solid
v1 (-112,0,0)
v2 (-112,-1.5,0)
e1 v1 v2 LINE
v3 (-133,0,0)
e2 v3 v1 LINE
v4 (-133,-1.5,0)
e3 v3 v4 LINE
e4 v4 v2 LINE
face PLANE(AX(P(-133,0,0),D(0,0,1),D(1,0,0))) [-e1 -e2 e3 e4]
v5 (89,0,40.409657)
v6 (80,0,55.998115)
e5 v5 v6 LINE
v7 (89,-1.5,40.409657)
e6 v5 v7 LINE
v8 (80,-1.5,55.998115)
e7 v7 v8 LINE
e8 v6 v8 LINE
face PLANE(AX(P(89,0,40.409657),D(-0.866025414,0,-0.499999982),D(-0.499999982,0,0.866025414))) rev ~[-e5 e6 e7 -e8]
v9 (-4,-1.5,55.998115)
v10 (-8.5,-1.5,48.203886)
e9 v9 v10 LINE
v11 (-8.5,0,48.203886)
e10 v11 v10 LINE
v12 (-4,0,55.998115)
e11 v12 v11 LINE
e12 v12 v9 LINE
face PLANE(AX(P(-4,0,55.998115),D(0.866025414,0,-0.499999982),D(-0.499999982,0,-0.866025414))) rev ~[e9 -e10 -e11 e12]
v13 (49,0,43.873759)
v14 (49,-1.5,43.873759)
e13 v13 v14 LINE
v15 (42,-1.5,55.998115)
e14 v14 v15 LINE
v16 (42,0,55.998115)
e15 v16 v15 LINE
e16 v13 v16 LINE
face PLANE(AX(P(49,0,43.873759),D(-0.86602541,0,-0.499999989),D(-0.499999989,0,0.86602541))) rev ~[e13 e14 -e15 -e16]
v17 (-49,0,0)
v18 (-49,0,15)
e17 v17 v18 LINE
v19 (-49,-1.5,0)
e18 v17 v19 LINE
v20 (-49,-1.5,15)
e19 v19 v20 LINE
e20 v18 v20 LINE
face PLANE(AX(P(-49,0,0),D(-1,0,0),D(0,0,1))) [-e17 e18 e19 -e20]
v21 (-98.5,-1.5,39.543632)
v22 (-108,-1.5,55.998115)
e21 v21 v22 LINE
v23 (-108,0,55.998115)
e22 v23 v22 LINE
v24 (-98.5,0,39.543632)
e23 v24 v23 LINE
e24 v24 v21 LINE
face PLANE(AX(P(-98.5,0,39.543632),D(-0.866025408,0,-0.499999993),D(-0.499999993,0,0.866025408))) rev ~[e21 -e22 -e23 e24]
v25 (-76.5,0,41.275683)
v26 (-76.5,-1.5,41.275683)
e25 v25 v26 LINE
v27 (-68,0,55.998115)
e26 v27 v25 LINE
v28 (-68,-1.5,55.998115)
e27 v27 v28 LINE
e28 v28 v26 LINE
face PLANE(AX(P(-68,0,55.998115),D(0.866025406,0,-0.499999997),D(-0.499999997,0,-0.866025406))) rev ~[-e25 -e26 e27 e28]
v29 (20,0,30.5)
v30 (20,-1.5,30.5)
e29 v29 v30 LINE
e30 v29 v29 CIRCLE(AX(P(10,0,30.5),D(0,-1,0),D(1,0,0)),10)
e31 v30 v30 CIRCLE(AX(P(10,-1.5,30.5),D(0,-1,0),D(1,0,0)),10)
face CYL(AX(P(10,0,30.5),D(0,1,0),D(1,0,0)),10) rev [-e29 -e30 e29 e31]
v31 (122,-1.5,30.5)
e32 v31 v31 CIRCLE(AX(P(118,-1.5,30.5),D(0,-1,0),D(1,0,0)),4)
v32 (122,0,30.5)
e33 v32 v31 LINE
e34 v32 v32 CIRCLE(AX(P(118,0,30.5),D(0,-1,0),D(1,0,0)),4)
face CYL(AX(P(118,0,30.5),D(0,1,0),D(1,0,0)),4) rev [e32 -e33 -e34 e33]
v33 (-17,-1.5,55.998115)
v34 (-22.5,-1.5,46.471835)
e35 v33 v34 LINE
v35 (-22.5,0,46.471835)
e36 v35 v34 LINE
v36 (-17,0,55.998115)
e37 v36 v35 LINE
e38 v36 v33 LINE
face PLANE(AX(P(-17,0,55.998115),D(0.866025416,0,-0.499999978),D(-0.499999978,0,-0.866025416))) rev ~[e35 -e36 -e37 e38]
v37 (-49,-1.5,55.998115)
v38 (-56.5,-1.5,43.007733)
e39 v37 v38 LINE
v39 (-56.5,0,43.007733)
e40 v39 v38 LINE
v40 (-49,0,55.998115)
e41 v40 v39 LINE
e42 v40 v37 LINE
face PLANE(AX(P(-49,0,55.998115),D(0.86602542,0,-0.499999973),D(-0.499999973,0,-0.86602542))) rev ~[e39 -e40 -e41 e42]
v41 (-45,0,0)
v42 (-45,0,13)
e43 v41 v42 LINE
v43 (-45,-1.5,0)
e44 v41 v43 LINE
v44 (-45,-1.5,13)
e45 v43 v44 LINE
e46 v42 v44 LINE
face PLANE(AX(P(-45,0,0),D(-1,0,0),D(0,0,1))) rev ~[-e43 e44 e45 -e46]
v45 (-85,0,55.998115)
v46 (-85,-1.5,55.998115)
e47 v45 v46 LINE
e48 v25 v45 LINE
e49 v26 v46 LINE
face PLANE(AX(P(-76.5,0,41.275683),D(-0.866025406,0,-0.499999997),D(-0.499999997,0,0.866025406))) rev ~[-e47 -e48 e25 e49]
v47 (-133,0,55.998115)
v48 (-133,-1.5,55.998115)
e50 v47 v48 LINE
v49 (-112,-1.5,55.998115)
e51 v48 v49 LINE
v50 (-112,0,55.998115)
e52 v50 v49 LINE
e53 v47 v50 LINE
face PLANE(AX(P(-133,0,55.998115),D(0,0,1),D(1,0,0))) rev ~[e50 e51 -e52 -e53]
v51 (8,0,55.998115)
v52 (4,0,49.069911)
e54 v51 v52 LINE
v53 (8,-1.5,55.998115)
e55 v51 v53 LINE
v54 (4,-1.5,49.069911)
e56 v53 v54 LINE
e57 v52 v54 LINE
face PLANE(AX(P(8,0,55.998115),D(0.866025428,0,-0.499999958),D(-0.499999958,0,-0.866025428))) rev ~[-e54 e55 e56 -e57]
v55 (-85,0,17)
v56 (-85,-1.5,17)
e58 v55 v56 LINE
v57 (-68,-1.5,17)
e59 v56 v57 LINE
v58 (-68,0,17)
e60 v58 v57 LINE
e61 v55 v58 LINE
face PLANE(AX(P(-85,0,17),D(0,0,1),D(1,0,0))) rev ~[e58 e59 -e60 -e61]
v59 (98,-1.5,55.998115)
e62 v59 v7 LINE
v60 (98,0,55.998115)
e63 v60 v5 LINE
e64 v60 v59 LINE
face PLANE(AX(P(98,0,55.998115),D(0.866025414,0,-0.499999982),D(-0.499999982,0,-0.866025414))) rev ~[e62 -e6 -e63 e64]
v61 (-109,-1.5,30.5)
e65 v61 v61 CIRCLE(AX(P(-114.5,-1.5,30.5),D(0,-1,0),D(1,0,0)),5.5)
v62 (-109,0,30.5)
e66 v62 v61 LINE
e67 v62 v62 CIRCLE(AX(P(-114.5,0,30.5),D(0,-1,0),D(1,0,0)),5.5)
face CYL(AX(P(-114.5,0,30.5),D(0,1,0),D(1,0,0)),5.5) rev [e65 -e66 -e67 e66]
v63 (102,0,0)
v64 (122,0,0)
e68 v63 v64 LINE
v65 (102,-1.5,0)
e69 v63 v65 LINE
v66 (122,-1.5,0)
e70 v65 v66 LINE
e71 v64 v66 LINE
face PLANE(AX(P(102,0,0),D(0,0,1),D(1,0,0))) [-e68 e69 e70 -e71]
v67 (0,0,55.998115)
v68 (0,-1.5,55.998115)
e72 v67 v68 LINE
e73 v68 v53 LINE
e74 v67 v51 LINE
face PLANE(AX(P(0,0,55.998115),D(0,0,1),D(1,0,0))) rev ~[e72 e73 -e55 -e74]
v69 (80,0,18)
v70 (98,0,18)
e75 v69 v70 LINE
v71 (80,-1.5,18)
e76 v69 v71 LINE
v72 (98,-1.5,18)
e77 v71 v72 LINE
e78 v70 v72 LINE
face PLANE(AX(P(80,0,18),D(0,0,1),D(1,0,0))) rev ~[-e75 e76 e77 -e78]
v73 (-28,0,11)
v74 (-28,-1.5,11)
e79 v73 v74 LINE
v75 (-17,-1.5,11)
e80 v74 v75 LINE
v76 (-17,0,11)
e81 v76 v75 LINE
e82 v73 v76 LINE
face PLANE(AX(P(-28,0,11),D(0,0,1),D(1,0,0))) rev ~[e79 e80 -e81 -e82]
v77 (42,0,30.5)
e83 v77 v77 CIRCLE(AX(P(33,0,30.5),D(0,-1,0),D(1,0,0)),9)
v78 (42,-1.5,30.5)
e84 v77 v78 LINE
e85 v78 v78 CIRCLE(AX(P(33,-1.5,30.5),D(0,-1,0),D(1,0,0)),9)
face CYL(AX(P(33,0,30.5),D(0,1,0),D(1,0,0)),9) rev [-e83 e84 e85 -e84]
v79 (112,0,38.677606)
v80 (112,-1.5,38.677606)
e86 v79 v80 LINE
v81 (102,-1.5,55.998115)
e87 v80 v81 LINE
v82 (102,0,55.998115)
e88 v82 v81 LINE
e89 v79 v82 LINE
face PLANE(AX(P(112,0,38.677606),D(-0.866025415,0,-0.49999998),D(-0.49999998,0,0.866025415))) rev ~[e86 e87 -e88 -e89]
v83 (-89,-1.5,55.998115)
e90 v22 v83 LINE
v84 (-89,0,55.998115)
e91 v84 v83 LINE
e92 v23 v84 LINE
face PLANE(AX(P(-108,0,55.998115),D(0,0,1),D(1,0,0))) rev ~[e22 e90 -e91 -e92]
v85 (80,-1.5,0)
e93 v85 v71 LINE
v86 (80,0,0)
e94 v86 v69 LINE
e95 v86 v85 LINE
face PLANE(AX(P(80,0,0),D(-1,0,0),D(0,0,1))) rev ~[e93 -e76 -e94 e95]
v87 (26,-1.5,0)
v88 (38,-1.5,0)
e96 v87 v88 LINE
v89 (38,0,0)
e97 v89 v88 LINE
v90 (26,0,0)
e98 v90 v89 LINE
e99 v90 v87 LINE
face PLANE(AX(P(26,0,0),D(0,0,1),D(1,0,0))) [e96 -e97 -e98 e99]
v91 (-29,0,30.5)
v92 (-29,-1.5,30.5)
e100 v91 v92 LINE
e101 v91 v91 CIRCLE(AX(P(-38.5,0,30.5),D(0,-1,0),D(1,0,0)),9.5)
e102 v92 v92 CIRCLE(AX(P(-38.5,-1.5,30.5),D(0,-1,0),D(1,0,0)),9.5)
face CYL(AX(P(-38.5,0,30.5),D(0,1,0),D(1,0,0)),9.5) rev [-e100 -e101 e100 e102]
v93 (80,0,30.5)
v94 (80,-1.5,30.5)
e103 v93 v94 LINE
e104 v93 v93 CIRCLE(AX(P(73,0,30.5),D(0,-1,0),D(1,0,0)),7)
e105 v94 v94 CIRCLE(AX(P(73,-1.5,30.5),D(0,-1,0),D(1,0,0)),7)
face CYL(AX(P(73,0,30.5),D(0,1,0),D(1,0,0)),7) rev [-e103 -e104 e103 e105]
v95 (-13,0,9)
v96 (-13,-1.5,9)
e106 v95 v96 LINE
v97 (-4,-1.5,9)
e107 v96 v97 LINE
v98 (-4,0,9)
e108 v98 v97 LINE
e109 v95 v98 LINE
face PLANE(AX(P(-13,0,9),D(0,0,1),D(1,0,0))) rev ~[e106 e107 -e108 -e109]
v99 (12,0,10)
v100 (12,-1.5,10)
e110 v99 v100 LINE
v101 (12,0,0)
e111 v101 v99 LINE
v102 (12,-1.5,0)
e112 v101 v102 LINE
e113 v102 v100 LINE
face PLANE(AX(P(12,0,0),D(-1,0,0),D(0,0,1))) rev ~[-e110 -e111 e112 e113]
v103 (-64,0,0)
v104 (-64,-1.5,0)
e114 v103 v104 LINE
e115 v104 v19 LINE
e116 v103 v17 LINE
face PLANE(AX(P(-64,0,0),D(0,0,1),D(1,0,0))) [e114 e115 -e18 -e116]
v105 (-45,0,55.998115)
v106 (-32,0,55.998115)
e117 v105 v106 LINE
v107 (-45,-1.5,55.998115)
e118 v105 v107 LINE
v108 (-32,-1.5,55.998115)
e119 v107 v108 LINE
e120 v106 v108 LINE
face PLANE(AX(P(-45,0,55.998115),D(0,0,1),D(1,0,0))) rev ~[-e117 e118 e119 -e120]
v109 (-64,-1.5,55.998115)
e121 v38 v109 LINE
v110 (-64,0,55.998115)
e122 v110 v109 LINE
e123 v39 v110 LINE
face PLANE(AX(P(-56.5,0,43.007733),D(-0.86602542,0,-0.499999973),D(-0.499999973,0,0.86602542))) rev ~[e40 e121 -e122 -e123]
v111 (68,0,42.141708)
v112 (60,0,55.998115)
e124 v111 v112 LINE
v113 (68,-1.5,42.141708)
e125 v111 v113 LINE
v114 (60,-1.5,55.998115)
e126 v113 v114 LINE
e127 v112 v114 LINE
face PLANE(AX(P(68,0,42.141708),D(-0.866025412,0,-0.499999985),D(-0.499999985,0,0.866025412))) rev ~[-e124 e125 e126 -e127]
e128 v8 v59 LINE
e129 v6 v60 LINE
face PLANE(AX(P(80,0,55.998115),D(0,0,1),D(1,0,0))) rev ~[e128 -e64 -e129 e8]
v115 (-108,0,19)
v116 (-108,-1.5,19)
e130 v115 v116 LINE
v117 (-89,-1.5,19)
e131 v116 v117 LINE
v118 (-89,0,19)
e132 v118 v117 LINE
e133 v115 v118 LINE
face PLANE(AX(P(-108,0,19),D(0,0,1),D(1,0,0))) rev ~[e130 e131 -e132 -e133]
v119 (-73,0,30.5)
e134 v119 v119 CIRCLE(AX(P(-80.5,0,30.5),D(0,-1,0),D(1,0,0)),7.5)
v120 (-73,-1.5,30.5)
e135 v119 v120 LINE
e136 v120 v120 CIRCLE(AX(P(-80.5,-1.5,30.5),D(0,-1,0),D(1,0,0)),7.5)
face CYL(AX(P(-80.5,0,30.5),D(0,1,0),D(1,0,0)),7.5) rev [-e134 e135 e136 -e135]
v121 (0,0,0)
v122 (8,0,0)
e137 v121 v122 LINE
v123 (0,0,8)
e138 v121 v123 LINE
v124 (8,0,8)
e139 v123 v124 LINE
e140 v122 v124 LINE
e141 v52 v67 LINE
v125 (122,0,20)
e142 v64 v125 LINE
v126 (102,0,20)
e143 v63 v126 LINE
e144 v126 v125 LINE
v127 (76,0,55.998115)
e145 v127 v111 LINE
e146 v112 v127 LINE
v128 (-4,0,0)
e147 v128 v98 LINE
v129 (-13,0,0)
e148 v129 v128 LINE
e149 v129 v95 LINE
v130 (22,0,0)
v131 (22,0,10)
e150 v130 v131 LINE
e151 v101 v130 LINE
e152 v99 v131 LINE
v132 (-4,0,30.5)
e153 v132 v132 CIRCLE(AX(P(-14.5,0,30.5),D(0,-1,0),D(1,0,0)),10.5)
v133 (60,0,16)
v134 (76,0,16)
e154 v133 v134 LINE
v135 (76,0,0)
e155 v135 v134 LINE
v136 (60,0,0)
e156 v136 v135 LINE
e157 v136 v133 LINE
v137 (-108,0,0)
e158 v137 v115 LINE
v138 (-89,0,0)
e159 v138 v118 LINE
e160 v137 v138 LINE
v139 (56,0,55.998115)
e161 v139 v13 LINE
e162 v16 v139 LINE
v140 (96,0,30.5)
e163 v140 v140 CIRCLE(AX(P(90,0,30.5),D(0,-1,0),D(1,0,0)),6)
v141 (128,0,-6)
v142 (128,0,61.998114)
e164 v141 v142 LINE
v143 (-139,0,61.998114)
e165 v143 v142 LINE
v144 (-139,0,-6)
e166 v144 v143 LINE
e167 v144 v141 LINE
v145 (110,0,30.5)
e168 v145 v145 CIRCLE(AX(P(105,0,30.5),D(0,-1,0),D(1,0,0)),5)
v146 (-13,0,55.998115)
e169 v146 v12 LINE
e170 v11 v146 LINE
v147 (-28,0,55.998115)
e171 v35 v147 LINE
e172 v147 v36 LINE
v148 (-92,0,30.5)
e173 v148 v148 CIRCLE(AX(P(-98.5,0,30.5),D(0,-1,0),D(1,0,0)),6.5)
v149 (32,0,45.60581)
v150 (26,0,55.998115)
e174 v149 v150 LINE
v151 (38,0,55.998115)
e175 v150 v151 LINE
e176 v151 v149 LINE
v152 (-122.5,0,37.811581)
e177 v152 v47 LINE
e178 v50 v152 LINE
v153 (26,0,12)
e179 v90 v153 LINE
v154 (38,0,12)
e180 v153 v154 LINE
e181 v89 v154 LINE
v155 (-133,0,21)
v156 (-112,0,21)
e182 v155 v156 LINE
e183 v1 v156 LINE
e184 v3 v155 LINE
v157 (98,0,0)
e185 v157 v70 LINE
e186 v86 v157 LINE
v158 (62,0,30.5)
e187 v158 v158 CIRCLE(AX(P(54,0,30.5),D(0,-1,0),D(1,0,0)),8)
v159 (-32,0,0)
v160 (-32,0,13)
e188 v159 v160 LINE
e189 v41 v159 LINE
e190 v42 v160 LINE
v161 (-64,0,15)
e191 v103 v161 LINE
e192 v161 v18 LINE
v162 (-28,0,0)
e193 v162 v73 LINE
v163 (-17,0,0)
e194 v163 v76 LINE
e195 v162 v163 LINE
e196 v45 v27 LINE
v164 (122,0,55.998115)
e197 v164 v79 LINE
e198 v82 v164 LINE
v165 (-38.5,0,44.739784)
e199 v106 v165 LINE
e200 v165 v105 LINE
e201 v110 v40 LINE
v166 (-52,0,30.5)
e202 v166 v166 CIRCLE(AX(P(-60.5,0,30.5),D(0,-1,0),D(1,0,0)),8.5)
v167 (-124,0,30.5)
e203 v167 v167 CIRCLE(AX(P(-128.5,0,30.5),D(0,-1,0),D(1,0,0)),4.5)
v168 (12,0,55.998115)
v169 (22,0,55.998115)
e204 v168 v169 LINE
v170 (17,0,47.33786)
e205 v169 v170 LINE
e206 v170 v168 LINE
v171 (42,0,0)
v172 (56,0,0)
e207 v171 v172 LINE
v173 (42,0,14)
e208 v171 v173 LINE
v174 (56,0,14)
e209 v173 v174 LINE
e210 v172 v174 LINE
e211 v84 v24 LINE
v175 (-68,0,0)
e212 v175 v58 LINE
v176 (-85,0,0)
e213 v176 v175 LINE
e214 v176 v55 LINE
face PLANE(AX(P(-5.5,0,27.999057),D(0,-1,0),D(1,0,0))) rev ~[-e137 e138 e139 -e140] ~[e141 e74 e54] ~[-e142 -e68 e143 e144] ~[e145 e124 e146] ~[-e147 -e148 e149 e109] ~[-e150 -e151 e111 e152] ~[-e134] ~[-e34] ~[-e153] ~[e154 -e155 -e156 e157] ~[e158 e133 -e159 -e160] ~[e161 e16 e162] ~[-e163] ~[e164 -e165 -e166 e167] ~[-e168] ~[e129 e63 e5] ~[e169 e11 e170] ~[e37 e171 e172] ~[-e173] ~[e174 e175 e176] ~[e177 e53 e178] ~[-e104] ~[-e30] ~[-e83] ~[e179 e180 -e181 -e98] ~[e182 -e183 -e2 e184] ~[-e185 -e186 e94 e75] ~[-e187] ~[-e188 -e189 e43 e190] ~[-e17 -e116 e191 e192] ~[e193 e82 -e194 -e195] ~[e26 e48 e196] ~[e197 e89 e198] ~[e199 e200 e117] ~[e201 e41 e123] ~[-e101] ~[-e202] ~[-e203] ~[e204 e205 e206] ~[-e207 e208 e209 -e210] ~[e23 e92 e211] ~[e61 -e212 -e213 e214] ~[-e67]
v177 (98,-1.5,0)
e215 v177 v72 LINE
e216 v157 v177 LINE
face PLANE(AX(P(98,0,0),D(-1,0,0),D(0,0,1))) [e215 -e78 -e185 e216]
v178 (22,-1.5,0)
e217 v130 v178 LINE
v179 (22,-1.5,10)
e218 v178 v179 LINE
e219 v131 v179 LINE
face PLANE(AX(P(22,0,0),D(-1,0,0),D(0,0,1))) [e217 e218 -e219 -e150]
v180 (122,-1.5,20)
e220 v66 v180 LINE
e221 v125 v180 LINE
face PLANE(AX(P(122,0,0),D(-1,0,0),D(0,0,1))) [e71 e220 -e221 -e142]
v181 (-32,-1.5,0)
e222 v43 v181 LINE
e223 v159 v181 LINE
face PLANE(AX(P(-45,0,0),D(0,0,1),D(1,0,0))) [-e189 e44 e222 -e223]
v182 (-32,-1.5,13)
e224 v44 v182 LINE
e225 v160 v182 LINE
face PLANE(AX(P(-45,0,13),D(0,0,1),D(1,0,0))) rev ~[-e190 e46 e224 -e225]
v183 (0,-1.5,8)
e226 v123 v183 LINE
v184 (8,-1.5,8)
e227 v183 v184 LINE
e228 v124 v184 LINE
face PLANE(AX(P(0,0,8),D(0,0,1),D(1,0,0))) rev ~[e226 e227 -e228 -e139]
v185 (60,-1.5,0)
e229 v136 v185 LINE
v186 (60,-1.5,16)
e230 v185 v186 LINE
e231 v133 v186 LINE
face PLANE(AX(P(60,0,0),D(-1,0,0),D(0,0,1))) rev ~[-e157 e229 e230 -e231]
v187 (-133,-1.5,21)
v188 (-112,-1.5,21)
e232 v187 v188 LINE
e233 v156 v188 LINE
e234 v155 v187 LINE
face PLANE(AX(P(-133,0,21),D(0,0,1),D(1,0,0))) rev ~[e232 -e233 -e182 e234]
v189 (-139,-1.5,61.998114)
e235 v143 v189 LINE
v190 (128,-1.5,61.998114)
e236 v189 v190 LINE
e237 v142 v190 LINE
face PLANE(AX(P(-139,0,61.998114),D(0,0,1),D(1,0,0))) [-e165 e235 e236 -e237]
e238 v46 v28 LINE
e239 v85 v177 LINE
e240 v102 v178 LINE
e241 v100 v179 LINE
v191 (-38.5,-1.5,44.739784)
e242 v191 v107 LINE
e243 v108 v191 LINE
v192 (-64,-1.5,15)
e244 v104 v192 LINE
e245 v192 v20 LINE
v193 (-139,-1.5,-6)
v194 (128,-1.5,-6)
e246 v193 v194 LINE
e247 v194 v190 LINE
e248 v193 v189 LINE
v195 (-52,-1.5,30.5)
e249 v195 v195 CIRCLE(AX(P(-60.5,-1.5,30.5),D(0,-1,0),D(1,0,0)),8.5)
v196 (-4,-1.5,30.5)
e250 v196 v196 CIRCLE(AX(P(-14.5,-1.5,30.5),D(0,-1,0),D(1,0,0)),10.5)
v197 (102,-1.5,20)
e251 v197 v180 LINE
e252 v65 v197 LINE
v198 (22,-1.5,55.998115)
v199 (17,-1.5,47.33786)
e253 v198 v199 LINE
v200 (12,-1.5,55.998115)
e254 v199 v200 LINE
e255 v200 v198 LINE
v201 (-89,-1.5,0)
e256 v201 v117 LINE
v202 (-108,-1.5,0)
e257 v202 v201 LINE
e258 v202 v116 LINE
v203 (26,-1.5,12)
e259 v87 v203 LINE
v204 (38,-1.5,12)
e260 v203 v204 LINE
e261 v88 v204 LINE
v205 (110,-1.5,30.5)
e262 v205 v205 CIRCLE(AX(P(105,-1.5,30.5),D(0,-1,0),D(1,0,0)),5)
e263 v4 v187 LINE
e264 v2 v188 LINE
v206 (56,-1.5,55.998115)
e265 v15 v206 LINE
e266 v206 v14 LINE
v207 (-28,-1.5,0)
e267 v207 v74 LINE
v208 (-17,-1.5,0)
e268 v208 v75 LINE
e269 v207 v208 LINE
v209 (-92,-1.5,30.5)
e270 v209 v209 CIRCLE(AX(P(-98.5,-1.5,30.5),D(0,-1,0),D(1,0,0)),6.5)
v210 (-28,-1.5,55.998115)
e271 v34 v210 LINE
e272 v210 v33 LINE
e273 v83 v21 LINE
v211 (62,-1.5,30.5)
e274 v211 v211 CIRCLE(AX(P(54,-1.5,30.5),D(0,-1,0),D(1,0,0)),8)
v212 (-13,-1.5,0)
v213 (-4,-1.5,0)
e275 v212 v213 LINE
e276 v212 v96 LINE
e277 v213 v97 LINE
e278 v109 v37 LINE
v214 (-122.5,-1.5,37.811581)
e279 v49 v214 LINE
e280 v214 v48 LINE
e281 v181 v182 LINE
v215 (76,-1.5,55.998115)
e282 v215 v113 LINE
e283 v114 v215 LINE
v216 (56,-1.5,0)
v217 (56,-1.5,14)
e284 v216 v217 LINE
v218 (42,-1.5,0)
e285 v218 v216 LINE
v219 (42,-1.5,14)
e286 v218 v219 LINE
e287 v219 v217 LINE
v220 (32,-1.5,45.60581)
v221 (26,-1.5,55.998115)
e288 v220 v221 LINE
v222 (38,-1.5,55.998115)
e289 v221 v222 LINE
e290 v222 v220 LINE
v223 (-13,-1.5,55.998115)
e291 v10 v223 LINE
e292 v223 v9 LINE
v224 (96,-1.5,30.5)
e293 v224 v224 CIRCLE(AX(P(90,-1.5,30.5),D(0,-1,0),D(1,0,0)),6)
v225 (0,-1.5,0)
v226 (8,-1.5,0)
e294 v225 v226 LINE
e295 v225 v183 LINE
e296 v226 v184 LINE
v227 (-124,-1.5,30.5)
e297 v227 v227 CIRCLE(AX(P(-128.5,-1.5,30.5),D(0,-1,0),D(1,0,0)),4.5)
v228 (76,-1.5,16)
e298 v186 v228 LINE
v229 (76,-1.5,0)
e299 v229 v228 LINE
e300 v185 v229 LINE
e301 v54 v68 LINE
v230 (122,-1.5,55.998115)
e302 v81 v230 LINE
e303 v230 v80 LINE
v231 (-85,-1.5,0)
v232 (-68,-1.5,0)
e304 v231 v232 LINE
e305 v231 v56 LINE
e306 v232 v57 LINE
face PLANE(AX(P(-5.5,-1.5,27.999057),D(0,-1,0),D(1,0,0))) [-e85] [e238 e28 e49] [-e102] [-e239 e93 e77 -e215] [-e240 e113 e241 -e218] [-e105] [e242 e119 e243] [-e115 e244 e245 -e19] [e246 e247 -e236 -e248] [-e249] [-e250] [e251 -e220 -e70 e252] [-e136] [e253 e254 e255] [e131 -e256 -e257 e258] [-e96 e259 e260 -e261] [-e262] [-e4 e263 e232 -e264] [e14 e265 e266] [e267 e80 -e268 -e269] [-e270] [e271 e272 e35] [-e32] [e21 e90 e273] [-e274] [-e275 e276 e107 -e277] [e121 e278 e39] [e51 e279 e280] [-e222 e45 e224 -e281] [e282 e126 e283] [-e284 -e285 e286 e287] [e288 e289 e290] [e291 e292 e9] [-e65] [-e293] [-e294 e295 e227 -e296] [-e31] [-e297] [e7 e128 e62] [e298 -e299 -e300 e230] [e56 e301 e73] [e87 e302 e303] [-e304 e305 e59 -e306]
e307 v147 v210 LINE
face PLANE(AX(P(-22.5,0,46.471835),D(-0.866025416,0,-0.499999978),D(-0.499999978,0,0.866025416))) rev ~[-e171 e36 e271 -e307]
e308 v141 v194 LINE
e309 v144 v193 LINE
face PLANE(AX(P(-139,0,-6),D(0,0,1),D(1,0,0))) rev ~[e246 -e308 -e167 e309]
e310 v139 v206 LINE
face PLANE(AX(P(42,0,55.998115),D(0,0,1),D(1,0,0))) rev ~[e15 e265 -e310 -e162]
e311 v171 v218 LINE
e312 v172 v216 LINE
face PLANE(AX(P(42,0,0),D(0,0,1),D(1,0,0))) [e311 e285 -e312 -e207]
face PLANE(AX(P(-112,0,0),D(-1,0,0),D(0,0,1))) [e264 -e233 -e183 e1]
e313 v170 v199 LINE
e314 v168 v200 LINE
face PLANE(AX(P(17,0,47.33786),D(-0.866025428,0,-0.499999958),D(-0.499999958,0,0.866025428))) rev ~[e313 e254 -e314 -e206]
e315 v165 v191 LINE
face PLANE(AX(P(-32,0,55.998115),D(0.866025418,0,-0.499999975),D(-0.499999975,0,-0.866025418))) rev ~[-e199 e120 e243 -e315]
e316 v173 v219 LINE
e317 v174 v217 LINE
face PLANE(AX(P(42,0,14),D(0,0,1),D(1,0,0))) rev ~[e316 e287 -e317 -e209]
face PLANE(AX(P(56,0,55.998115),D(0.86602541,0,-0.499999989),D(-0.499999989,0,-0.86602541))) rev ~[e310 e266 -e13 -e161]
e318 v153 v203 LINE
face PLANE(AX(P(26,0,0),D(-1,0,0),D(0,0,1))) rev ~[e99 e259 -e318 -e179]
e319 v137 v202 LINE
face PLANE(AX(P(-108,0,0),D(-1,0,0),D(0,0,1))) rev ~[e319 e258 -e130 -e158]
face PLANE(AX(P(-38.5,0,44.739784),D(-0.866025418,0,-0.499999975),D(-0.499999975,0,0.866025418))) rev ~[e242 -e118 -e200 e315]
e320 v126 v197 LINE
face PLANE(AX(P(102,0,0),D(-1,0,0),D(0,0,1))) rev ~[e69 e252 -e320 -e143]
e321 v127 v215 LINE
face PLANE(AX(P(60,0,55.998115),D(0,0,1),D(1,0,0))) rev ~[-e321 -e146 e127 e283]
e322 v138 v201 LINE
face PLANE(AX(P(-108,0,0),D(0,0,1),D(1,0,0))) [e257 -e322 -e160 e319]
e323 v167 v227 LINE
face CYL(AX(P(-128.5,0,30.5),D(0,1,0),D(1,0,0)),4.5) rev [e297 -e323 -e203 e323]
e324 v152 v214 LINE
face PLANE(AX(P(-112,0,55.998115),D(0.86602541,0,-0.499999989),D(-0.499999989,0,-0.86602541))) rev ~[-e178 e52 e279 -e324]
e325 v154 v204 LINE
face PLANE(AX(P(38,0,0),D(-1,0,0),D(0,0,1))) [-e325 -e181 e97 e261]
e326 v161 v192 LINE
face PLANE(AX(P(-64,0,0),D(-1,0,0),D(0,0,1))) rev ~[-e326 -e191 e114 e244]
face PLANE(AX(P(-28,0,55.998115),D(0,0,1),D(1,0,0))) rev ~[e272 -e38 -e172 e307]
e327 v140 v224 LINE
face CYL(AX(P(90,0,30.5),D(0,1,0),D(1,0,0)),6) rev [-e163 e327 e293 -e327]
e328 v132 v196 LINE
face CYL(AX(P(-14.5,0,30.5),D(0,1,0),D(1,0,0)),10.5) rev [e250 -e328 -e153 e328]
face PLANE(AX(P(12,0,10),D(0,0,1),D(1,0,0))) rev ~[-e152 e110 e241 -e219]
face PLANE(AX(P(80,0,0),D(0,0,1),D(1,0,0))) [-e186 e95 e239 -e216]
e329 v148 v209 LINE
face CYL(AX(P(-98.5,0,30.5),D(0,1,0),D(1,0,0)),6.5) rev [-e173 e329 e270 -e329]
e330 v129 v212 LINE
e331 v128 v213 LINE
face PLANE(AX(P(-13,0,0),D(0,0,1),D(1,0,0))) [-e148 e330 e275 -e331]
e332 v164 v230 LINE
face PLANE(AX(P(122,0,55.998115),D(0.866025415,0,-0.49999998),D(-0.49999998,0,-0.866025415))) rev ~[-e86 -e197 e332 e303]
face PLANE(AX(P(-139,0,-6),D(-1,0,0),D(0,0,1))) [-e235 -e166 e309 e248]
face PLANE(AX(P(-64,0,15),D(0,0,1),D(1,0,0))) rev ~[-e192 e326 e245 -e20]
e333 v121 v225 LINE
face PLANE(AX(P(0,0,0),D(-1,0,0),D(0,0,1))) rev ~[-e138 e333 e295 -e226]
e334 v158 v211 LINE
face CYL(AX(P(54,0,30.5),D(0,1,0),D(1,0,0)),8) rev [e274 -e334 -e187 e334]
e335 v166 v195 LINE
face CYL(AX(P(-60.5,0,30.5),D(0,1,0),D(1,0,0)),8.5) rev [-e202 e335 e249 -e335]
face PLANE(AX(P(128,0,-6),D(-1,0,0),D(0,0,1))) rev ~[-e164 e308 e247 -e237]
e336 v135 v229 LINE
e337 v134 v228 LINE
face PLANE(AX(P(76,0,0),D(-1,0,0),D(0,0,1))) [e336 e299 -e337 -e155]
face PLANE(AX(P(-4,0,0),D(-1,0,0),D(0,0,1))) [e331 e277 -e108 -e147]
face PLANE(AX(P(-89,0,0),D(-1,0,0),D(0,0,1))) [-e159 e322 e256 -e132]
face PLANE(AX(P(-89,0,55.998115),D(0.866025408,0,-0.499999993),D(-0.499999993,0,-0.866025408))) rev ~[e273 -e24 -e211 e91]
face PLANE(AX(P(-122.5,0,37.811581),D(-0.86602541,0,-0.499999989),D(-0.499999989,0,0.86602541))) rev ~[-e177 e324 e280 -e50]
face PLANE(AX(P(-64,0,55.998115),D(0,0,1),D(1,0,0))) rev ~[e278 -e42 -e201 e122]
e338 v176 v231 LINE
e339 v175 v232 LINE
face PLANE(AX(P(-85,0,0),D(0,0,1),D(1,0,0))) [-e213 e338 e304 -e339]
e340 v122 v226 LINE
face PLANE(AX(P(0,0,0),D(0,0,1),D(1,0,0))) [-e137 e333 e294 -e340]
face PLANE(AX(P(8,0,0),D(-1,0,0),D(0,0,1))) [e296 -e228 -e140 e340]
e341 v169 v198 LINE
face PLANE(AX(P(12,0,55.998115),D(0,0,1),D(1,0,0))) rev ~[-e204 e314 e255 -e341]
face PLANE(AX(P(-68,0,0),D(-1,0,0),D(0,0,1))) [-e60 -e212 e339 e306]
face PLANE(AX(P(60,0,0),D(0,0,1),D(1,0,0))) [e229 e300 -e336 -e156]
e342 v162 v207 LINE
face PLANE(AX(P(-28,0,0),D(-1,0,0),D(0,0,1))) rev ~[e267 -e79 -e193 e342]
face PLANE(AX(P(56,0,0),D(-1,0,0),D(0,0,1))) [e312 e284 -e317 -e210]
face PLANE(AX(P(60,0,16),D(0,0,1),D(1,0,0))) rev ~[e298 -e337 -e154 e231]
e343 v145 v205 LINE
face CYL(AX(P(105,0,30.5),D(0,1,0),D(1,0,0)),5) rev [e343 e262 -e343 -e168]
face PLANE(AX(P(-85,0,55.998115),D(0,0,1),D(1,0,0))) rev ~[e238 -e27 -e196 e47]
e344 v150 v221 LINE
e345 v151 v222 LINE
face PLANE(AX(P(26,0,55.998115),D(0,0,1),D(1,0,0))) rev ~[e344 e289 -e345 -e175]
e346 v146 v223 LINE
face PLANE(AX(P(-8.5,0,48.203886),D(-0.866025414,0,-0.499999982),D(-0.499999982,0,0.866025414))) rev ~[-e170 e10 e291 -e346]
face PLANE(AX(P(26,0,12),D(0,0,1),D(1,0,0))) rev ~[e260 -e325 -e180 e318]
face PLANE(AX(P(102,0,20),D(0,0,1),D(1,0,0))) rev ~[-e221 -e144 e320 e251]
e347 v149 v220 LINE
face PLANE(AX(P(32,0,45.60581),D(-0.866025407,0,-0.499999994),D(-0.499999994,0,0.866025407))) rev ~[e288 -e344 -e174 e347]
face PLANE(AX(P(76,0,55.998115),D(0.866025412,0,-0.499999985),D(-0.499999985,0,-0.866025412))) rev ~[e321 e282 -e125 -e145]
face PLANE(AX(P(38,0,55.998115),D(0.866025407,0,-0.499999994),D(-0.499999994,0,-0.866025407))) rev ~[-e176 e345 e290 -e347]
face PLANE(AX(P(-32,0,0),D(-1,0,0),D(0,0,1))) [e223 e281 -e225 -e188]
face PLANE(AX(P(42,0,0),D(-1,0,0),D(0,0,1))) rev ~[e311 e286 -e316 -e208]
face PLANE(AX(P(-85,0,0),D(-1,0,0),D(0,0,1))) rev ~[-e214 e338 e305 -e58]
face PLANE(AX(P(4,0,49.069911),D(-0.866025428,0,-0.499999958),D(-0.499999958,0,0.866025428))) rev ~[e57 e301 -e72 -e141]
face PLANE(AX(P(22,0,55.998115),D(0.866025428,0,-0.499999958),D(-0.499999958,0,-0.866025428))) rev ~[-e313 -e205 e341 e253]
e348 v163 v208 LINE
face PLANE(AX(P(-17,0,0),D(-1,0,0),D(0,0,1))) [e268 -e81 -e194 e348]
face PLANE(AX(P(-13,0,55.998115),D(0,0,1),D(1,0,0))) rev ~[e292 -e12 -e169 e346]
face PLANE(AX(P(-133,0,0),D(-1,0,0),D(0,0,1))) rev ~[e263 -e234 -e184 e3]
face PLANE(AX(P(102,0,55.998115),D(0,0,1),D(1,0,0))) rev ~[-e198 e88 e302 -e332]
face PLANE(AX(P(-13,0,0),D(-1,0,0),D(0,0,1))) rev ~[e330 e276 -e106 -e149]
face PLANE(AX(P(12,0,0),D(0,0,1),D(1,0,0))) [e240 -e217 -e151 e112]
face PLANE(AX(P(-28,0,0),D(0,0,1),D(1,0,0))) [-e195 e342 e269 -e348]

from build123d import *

# Parameters (mm, degrees)
F0_W     = 267
F0_H     = 67.998115
F0_W_2   = 21
F0_H_2   = 21
F0_W_3   = 19
F0_H_3   = 19
F0_W_4   = 17
F0_H_4   = 17
F0_W_5   = 15
F0_H_5   = 15
F0_W_6   = 13
F0_H_6   = 13
F0_W_7   = 11
F0_H_7   = 11
F0_W_8   = 9
F0_H_8   = 9
F0_W_9   = 8
F0_H_9   = 8
F0_W_10  = 10
F0_H_10  = 10
F0_W_11  = 12
F0_H_11  = 12
F0_W_12  = 14
F0_H_12  = 14
F0_W_13  = 16
F0_H_13  = 16
F0_W_14  = 18
F0_H_14  = 18
F0_W_15  = 20
F0_H_15  = 20
F0_R     = 4.5
F0_R_2   = 5.5
F0_R_3   = 6.5
F0_R_4   = 7.5
F0_R_5   = 8.5
F0_R_6   = 9.5
F0_R_7   = 10.5
F0_R_8   = 10
F0_R_9   = 9
F0_R_10  = 8
F0_R_11  = 7
F0_R_12  = 6
F0_R_13  = 5
F0_R_14  = 4
F1_DEPTH = 1.5


with BuildPart() as f1:
    # F0 (on Front) → F1 (new body)
    with BuildSketch(Plane.XZ):
        with Locations((-5.5, 27.999057)):
            Rectangle(F0_W, F0_H)
        with Locations((-122.5, 10.5)):
            Rectangle(F0_W_2, F0_H_2, mode=Mode.SUBTRACT)
        with Locations((-98.5, 9.5)):
            Rectangle(F0_W_3, F0_H_3, mode=Mode.SUBTRACT)
        with Locations((-76.5, 8.5)):
            Rectangle(F0_W_4, F0_H_4, mode=Mode.SUBTRACT)
        with Locations((-56.5, 7.5)):
            Rectangle(F0_W_5, F0_H_5, mode=Mode.SUBTRACT)
        with Locations((-38.5, 6.5)):
            Rectangle(F0_W_6, F0_H_6, mode=Mode.SUBTRACT)
        with Locations((-22.5, 5.5)):
            Rectangle(F0_W_7, F0_H_7, mode=Mode.SUBTRACT)
        with Locations((-8.5, 4.5)):
            Rectangle(F0_W_8, F0_H_8, mode=Mode.SUBTRACT)
        with Locations((4, 4)):
            Rectangle(F0_W_9, F0_H_9, mode=Mode.SUBTRACT)
        with Locations((17, 5)):
            Rectangle(F0_W_10, F0_H_10, mode=Mode.SUBTRACT)
        with Locations((32, 6)):
            Rectangle(F0_W_11, F0_H_11, mode=Mode.SUBTRACT)
        with Locations((49, 7)):
            Rectangle(F0_W_12, F0_H_12, mode=Mode.SUBTRACT)
        with Locations((68, 8)):
            Rectangle(F0_W_13, F0_H_13, mode=Mode.SUBTRACT)
        with Locations((89, 9)):
            Rectangle(F0_W_14, F0_H_14, mode=Mode.SUBTRACT)
        with Locations((112, 10)):
            Rectangle(F0_W_15, F0_H_15, mode=Mode.SUBTRACT)
        with Locations((-128.5, 30.5)):
            Circle(F0_R, mode=Mode.SUBTRACT)
        with Locations((-114.5, 30.5)):
            Circle(F0_R_2, mode=Mode.SUBTRACT)
        with Locations((-98.5, 30.5)):
            Circle(F0_R_3, mode=Mode.SUBTRACT)
        with Locations((-80.5, 30.5)):
            Circle(F0_R_4, mode=Mode.SUBTRACT)
        with Locations((-60.5, 30.5)):
            Circle(F0_R_5, mode=Mode.SUBTRACT)
        with Locations((-38.5, 30.5)):
            Circle(F0_R_6, mode=Mode.SUBTRACT)
        with Locations((-14.5, 30.5)):
            Circle(F0_R_7, mode=Mode.SUBTRACT)
        Polygon((-122.5, 37.811581), (-133, 55.998115), (-112, 55.998115), align=None, mode=Mode.SUBTRACT)
        Polygon((-98.5, 39.543632), (-108, 55.998115), (-89, 55.998115), align=None, mode=Mode.SUBTRACT)
        Polygon((-76.5, 41.275683), (-85, 55.998115), (-68, 55.998115), align=None, mode=Mode.SUBTRACT)
        Polygon((-56.5, 43.007733), (-64, 55.998115), (-49, 55.998115), align=None, mode=Mode.SUBTRACT)
        Polygon((-38.5, 44.739784), (-45, 55.998115), (-32, 55.998115), align=None, mode=Mode.SUBTRACT)
        Polygon((-22.5, 46.471835), (-28, 55.998115), (-17, 55.998115), align=None, mode=Mode.SUBTRACT)
        Polygon((-8.5, 48.203886), (-13, 55.998115), (-4, 55.998115), align=None, mode=Mode.SUBTRACT)
        with Locations((10, 30.5)):
            Circle(F0_R_8, mode=Mode.SUBTRACT)
        with Locations((33, 30.5)):
            Circle(F0_R_9, mode=Mode.SUBTRACT)
        with Locations((54, 30.5)):
            Circle(F0_R_10, mode=Mode.SUBTRACT)
        with Locations((73, 30.5)):
            Circle(F0_R_11, mode=Mode.SUBTRACT)
        with Locations((90, 30.5)):
            Circle(F0_R_12, mode=Mode.SUBTRACT)
        with Locations((105, 30.5)):
            Circle(F0_R_13, mode=Mode.SUBTRACT)
        with Locations((118, 30.5)):
            Circle(F0_R_14, mode=Mode.SUBTRACT)
        Polygon((4, 49.069911), (0, 55.998115), (8, 55.998115), align=None, mode=Mode.SUBTRACT)
        Polygon((17, 47.33786), (12, 55.998115), (22, 55.998115), align=None, mode=Mode.SUBTRACT)
        Polygon((32, 45.60581), (26, 55.998115), (38, 55.998115), align=None, mode=Mode.SUBTRACT)
        Polygon((49, 43.873759), (42, 55.998115), (56, 55.998115), align=None, mode=Mode.SUBTRACT)
        Polygon((68, 42.141708), (60, 55.998115), (76, 55.998115), align=None, mode=Mode.SUBTRACT)
        Polygon((89, 40.409657), (80, 55.998115), (98, 55.998115), align=None, mode=Mode.SUBTRACT)
        Polygon((112, 38.677606), (102, 55.998115), (122, 55.998115), align=None, mode=Mode.SUBTRACT)
    extrude(amount=F1_DEPTH)


solid = f1.part
